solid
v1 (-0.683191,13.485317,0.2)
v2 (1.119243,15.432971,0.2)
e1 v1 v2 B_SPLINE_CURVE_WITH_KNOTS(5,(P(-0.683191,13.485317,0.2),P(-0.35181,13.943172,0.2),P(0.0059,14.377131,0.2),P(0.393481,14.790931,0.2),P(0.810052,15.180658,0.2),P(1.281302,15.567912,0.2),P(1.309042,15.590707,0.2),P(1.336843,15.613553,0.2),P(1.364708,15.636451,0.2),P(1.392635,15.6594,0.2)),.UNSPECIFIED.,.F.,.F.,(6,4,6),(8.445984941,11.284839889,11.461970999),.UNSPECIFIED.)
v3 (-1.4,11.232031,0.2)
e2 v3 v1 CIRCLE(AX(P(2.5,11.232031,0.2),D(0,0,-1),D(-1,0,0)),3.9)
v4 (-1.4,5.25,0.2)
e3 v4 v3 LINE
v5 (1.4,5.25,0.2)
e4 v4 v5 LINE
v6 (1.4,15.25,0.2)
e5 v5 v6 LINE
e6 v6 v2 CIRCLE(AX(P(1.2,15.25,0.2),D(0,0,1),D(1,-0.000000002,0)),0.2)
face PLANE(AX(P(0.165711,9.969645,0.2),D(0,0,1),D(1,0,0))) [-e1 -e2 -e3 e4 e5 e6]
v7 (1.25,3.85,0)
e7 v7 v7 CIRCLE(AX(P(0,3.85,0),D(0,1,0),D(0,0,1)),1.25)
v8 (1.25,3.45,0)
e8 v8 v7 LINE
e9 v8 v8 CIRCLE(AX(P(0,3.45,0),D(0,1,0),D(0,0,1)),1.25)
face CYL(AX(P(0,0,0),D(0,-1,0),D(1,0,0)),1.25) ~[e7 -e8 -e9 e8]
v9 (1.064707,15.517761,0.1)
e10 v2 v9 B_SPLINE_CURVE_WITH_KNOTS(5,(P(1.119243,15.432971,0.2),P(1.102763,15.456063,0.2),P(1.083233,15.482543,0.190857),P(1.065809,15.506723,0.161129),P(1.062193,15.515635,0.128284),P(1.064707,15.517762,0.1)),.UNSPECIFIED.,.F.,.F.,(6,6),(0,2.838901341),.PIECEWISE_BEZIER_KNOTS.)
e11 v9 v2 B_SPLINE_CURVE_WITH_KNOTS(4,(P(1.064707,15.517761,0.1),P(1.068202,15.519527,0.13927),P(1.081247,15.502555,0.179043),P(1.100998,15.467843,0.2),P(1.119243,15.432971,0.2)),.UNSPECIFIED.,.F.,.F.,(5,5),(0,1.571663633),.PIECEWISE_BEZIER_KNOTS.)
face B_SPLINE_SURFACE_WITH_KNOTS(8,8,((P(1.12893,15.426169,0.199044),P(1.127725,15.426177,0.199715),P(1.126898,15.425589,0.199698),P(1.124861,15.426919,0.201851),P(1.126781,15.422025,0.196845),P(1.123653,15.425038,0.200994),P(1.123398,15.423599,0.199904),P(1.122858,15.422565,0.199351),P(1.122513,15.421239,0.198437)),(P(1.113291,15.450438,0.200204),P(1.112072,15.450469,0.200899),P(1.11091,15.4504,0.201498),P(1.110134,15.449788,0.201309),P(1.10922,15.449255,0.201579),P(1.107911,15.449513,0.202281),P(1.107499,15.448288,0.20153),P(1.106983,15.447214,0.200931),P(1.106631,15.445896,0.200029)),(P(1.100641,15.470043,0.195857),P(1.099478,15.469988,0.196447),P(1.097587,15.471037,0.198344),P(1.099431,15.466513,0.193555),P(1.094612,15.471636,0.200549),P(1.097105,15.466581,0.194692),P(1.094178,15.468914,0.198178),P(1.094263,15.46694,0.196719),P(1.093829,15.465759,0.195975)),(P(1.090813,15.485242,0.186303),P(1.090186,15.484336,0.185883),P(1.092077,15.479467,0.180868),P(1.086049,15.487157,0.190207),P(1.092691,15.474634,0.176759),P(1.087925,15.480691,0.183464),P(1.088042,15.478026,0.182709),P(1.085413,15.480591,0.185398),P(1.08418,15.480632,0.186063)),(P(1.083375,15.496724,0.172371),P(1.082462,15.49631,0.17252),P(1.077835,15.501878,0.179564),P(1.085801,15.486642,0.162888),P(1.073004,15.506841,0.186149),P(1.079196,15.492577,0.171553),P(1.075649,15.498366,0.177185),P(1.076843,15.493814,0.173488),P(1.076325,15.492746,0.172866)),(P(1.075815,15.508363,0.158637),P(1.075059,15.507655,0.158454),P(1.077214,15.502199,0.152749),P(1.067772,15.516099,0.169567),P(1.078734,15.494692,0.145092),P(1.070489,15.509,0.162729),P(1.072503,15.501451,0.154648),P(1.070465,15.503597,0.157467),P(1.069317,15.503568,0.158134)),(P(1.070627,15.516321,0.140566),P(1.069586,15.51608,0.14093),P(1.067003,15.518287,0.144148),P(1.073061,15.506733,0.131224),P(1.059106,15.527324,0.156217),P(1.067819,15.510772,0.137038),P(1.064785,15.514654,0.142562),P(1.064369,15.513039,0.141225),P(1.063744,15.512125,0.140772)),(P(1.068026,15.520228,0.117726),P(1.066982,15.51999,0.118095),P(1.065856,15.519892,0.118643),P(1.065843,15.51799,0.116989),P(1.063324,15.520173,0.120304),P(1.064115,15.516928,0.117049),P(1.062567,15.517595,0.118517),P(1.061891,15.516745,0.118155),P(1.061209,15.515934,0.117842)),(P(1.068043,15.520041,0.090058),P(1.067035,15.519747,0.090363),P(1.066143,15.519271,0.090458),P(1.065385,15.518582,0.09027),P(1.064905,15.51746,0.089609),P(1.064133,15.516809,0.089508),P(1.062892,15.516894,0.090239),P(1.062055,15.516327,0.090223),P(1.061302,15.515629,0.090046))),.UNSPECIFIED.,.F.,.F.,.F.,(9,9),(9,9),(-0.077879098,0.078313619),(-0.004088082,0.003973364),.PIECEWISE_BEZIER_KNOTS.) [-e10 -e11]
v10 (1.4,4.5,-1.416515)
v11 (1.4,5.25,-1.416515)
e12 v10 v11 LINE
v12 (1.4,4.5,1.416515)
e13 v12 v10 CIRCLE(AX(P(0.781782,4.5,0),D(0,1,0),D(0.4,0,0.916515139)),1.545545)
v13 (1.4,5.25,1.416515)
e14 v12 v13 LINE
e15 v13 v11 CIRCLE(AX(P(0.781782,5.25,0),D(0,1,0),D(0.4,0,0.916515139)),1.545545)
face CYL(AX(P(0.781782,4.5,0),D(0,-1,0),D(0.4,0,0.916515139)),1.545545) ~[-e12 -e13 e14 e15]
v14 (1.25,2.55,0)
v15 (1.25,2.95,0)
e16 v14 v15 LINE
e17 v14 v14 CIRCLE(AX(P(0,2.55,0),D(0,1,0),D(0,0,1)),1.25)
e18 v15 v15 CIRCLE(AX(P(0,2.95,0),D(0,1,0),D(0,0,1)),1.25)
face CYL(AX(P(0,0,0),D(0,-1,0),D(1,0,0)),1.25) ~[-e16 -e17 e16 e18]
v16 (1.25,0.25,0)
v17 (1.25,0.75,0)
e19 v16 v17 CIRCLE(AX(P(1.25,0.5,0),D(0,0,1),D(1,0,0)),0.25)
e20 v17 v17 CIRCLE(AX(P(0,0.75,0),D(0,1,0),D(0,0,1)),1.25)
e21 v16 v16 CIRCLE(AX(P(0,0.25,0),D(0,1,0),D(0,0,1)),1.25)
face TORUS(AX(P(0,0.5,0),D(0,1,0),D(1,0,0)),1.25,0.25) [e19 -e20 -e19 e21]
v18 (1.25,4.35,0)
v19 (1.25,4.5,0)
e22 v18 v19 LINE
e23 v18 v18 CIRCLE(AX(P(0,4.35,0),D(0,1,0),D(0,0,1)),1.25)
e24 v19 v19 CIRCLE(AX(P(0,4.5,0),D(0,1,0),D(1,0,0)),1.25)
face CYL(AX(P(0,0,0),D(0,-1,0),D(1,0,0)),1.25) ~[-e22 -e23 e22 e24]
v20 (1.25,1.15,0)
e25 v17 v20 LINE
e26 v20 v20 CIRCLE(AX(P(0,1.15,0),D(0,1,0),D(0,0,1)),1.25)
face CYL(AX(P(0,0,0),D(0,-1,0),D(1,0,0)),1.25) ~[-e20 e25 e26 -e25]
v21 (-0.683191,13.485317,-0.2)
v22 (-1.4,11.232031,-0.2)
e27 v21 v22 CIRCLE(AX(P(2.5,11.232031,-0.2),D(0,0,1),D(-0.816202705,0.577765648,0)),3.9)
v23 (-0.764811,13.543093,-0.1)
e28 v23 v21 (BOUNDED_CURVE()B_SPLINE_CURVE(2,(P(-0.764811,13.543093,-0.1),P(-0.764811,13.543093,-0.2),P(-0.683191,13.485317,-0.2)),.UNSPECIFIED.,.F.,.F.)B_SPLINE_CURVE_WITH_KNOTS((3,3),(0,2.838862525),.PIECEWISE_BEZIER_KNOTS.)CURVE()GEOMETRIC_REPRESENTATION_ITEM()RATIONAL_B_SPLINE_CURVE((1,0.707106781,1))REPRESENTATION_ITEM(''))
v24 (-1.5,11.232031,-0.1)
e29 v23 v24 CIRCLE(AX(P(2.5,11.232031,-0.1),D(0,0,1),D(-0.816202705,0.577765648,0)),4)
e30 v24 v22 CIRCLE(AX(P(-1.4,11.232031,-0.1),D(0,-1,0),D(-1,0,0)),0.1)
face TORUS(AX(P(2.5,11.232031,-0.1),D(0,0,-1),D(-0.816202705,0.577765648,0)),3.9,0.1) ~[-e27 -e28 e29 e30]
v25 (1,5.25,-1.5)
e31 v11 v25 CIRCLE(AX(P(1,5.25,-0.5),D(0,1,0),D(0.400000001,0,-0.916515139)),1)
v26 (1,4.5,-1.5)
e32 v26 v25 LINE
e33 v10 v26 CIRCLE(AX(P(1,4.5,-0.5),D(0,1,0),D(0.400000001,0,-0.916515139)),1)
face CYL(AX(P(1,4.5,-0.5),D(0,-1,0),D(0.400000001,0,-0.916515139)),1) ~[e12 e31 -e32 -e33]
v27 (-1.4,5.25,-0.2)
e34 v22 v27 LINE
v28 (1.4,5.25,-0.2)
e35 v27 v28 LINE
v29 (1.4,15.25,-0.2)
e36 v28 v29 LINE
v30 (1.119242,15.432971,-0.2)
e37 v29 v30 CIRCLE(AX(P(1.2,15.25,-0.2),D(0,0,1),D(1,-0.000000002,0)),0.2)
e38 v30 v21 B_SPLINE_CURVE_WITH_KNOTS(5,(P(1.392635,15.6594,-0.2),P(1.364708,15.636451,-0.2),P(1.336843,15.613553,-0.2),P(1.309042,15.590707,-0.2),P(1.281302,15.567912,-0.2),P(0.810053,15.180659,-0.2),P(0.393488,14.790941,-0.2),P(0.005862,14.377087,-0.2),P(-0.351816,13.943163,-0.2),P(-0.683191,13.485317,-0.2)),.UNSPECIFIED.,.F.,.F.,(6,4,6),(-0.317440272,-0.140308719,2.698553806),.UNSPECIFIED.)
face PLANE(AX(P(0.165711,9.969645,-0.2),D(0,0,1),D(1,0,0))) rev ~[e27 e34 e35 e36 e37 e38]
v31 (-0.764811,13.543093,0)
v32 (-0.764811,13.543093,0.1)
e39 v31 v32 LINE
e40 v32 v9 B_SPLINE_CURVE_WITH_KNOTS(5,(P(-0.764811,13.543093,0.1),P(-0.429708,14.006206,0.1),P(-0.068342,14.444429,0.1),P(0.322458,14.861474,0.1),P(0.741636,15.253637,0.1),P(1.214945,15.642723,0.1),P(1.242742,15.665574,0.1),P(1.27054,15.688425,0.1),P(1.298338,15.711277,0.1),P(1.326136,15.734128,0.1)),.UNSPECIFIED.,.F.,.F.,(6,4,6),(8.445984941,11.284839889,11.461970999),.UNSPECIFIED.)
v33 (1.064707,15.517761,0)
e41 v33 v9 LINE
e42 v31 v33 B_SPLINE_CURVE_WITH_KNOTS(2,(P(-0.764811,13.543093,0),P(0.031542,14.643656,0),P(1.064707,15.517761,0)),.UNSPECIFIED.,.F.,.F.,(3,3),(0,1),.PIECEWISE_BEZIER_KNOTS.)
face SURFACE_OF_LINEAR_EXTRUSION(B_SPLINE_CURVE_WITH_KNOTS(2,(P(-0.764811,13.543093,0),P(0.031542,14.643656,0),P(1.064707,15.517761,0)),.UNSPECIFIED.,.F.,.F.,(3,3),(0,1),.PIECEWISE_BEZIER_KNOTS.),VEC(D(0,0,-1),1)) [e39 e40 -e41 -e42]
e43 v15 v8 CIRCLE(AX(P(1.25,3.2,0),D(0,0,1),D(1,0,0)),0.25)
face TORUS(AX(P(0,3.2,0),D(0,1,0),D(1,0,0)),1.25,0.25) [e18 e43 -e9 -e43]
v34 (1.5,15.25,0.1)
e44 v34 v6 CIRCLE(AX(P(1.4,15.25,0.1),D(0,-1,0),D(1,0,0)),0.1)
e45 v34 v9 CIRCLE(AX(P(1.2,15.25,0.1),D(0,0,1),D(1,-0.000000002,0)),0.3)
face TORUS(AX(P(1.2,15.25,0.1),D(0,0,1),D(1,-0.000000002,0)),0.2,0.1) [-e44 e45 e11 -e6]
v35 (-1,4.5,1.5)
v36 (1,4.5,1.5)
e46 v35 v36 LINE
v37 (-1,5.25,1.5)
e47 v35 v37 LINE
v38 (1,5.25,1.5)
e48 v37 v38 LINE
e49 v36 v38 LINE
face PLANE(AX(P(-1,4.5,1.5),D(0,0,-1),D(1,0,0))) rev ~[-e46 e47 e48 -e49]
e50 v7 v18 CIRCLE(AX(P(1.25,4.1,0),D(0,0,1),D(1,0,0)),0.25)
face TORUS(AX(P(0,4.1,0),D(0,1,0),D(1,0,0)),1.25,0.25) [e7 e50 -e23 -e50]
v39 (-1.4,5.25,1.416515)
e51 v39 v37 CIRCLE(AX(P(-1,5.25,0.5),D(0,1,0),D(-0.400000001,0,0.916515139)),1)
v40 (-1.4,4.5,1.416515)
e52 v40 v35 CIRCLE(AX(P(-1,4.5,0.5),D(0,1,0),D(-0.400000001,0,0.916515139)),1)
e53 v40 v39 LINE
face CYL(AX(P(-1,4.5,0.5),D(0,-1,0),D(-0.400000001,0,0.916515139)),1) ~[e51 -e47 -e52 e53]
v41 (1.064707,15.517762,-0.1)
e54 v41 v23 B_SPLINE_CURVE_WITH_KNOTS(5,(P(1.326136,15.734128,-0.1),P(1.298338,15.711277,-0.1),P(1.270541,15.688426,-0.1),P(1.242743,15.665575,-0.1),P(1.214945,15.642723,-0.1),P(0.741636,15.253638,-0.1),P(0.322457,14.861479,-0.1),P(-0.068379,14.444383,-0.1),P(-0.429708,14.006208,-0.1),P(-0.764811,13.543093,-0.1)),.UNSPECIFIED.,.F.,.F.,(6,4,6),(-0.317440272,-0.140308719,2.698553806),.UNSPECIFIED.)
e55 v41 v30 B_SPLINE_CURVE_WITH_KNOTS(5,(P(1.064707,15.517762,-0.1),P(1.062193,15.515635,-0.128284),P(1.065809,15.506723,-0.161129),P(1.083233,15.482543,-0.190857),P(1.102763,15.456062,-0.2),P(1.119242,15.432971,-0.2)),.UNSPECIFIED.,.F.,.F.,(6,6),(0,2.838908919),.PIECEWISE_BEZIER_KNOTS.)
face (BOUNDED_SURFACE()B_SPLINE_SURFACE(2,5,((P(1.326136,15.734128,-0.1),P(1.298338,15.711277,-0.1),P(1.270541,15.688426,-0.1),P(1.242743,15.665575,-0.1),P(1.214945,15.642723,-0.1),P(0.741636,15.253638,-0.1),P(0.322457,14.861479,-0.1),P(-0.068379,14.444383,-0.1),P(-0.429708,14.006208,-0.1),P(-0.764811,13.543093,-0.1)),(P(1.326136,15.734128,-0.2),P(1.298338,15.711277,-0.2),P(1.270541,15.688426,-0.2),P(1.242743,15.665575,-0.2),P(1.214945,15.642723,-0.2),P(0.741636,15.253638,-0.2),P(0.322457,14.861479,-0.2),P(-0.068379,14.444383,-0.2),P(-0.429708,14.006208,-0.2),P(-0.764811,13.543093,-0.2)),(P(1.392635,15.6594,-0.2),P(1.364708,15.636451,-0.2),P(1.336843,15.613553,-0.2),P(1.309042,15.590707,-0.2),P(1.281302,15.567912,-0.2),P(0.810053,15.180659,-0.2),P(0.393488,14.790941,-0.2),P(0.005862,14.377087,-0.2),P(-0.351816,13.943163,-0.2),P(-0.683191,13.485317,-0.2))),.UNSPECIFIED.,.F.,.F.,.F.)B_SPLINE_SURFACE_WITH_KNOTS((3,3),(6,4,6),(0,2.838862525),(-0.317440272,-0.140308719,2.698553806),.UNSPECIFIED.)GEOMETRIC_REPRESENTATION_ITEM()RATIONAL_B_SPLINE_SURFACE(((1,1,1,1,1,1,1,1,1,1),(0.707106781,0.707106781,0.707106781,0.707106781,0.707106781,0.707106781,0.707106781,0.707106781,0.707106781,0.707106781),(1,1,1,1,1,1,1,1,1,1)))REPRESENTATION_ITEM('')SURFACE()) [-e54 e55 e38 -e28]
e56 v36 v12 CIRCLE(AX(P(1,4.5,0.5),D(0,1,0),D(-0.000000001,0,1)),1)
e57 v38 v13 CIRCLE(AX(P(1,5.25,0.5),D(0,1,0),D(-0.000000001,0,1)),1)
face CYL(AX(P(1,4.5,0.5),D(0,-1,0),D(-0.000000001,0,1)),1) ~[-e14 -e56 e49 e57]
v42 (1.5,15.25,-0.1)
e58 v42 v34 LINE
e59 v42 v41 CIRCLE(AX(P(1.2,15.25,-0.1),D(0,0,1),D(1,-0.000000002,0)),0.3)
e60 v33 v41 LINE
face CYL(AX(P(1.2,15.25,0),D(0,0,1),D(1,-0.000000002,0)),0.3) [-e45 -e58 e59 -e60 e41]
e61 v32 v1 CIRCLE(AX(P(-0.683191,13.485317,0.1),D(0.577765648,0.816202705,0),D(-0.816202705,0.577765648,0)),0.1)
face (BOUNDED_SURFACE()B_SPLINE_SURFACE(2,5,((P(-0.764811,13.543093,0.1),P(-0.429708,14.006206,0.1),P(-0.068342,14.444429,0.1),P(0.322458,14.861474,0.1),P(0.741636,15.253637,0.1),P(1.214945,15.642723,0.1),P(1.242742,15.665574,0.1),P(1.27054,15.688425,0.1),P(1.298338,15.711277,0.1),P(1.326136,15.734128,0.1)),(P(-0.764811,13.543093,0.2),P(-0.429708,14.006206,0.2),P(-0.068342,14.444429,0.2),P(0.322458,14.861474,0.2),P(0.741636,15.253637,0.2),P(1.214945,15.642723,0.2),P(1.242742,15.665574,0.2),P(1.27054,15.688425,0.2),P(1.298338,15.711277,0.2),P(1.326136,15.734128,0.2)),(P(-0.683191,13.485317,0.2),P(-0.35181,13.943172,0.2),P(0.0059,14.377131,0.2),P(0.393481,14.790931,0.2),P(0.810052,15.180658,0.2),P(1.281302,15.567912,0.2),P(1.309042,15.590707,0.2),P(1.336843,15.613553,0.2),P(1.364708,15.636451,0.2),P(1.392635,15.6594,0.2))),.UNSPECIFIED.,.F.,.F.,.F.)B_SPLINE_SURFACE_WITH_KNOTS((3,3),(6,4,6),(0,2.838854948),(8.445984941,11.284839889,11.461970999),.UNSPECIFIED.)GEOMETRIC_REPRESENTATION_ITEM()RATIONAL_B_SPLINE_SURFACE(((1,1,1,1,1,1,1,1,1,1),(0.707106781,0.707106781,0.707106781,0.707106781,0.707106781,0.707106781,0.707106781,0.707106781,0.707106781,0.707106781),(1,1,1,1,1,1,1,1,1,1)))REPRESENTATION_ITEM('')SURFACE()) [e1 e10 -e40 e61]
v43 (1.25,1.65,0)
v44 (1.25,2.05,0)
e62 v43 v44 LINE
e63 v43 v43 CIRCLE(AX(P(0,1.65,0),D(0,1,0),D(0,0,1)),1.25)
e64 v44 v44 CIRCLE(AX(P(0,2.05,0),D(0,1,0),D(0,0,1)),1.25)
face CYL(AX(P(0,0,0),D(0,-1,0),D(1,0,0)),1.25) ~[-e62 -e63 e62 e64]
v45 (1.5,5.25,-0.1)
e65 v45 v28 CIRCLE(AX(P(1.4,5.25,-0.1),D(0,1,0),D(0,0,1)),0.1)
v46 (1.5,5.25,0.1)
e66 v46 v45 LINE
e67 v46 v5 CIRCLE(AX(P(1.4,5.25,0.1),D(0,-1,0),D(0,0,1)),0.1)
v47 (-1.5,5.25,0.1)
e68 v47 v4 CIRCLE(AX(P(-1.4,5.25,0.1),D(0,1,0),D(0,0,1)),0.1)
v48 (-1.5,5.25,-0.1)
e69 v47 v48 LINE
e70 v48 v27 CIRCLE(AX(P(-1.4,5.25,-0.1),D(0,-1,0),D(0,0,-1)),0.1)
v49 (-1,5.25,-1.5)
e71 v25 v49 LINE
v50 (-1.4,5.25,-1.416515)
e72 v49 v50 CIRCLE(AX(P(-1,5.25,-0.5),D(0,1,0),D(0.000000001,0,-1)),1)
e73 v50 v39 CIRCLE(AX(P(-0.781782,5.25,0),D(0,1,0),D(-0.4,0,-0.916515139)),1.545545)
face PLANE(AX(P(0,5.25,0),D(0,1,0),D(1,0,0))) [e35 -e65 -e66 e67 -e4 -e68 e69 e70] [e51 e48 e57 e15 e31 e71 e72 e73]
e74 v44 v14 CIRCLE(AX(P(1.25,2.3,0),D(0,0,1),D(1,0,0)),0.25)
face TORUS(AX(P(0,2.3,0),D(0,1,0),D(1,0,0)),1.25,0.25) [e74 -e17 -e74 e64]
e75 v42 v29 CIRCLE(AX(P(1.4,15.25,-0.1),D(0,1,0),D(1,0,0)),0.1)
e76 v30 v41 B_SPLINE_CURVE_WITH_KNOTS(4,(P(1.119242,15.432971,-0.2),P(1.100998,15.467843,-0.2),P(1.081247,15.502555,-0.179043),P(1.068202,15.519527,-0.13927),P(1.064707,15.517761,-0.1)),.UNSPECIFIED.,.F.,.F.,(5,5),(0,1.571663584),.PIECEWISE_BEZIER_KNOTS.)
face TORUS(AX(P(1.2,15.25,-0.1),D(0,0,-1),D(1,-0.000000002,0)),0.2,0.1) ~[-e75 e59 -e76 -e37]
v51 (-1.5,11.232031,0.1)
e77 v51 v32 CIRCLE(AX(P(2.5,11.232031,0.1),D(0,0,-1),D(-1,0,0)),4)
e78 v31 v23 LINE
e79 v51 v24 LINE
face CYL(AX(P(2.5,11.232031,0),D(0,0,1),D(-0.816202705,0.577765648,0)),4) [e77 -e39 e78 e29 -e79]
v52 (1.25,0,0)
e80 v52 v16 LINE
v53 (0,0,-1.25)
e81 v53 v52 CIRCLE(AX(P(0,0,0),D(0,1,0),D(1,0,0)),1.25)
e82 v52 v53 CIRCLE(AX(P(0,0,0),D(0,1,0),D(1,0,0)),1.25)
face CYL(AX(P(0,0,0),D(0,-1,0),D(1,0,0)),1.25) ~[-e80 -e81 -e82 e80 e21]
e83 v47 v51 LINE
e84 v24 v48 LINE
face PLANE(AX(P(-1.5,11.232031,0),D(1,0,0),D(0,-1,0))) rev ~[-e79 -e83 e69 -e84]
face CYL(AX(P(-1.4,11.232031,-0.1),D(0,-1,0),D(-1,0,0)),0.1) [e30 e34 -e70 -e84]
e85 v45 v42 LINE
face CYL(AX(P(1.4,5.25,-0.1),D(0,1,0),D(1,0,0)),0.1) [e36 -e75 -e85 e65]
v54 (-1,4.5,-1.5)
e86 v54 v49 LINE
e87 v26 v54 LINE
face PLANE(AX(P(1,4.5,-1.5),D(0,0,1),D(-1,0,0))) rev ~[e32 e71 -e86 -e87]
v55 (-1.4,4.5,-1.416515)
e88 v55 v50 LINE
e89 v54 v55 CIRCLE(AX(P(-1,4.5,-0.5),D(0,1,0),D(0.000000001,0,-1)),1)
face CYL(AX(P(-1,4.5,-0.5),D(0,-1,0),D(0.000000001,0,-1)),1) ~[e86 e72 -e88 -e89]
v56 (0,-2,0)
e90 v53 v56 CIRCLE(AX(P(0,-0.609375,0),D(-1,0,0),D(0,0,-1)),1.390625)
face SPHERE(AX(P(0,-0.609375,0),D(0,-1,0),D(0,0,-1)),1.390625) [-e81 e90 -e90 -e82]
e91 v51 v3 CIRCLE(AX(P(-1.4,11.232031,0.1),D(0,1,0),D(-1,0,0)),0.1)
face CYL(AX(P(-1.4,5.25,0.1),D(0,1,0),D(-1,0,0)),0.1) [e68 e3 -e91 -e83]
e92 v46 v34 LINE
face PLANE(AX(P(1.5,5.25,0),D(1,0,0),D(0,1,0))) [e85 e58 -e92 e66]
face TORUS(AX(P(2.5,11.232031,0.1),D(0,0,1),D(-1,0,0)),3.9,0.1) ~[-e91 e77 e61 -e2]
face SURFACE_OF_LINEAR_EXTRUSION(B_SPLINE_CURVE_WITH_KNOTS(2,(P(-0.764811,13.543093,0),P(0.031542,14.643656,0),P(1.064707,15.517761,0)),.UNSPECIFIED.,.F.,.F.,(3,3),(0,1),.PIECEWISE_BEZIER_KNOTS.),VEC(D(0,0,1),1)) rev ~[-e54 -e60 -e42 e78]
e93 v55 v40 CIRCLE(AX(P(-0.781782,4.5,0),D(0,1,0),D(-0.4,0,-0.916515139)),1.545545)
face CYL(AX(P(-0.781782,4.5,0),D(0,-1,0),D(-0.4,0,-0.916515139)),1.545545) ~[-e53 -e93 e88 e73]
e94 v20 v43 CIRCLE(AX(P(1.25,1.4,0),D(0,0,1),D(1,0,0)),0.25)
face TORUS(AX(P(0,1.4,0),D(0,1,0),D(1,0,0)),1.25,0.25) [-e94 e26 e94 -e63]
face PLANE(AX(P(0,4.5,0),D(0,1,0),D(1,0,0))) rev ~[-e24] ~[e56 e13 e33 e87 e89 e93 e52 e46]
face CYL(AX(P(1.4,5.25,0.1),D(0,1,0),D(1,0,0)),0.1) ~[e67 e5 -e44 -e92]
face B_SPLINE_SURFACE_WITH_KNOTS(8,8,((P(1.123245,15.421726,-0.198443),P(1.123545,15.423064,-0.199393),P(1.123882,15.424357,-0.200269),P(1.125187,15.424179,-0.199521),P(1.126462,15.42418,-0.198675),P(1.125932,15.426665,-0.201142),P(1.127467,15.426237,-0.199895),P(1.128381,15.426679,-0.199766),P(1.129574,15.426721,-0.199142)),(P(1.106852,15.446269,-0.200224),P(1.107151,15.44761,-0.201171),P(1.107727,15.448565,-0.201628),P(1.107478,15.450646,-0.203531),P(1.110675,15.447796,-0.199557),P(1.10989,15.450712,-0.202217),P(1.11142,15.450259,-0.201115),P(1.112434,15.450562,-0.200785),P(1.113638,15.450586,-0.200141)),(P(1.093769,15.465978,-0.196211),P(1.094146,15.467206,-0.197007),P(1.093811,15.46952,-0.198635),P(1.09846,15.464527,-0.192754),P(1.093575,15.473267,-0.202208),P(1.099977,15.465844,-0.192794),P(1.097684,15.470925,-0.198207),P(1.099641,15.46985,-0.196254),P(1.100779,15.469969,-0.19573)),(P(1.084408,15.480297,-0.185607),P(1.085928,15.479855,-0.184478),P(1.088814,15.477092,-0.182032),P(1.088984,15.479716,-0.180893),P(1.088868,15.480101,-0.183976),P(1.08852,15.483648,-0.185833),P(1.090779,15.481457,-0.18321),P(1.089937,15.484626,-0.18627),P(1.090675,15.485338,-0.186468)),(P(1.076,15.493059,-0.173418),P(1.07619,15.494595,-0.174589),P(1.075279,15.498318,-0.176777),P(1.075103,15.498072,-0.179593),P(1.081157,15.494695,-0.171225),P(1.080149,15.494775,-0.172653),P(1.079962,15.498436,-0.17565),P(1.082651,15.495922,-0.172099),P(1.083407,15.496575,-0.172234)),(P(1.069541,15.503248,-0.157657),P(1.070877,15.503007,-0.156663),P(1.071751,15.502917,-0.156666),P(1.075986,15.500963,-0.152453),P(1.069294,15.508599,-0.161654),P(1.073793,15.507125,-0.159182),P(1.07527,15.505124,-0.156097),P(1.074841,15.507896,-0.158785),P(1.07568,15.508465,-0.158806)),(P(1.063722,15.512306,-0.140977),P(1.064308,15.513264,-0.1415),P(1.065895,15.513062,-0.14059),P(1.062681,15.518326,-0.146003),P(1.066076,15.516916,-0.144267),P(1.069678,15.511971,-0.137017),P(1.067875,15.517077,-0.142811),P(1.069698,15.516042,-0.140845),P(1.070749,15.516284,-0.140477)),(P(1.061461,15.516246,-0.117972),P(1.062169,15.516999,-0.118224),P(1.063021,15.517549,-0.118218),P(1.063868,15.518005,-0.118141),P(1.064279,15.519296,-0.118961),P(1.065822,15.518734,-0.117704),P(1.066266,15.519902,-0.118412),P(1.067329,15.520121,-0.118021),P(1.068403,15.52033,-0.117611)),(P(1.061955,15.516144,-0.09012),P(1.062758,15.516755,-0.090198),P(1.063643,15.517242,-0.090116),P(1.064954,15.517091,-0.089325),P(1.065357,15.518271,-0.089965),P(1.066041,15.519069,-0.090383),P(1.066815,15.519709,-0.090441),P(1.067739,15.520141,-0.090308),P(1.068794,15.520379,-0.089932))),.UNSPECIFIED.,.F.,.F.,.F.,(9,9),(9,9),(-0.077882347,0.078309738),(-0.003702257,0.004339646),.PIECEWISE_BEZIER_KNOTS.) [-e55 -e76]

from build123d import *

# Parameters (mm, degrees)
SKETCH1_R                = 1.25
BOSS_EXTRUDE1_DEPTH      = 4.5
BOSS_EXTRUDE2_DEPTH      = 0.75
DOME1_FACE_RADIUS        = 1.25
DOME1_HEIGHT             = 2
BOSS_EXTRUDE3_DEPTH      = 0.2
BOSS_EXTRUDE3_DEPTH_BACK = 0.2
FILLET3_R                = 0.1
SKETCH5_R                = 0.25
LPATTERN1_COUNT          = 5
LPATTERN1_PITCH          = 0.9


with BuildPart() as part:
    # Sketch1 → Boss-Extrude1 (new body)
    with BuildSketch(Plane(origin=(0, 0, 0), x_dir=(1, 0, 0), z_dir=(0, 1, 0))):
        Circle(SKETCH1_R)
    extrude(amount=BOSS_EXTRUDE1_DEPTH)

    # Sketch2 → Boss-Extrude2 (add)
    with BuildSketch(Plane(origin=(0, 4.5, 0), x_dir=(1, 0, 0), z_dir=(0, 1, 0))):
        with BuildLine():
            Line((1, 1.5), (-1, 1.5))
            ThreePointArc((-1, 1.5), (-1.204309644, 1.478906313), (-1.4, 1.416515139))
            ThreePointArc((-1.4, 1.416515139), (-2.327326835, 0), (-1.4, -1.416515139))
            ThreePointArc((-1.4, -1.416515139), (-1.204309644, -1.478906313), (-1, -1.5))
            Line((-1, -1.5), (0.012678076, -1.5))
            Line((0.012678076, -1.5), (1, -1.5))
            ThreePointArc((1, -1.5), (1.204309644, -1.478906313), (1.4, -1.416515139))
            ThreePointArc((1.4, -1.416515139), (2.327326835, 0), (1.4, 1.416515139))
            ThreePointArc((1.4, 1.416515139), (1.204309644, 1.478906313), (1, 1.5))
        make_face()
    extrude(amount=BOSS_EXTRUDE2_DEPTH)

    # Dome1: a dome of height H over a round flat face of radius A is a cap of a sphere of radius (A * A + H * H) / (2 * H)
    dome1_r = (DOME1_FACE_RADIUS * DOME1_FACE_RADIUS + DOME1_HEIGHT * DOME1_HEIGHT) / (2 * DOME1_HEIGHT)
    dome1_base = Plane((0, 0, 0), z_dir=(0, -1, 0))
    with Locations(dome1_base.offset(DOME1_HEIGHT - dome1_r)):
        dome1_ball = Sphere(dome1_r, mode=Mode.PRIVATE)
    add(split(dome1_ball, bisect_by=dome1_base, keep=Keep.TOP, mode=Mode.PRIVATE))

    # Sketch3 → Boss-Extrude3 (add, two sides)
    with BuildSketch(Plane.XY) as boss_extrude3_sk:
        with BuildLine():
            Line((1.5, 5.25), (1.5, 15.25))
            ThreePointArc((1.5, 15.25), (1.357181775, 15.505526691), (1.064707402, 15.517760925))
            add(Edge.make_bspline(
                [(-0.764810822, 13.5430934), (0.031541874, 14.643656101), (1.064707402, 15.517760925)],
                knots=[0, 0, 0, 1, 1, 1], degree=2))
            ThreePointArc((-0.764810822, 13.5430934), (-1.311774081, 12.444622397), (-1.5, 11.23203081))
            Line((-1.5, 11.23203081), (-1.5, 5.25))
            Line((-1.5, 5.25), (1.5, 5.25))
        make_face()
    extrude(amount=BOSS_EXTRUDE3_DEPTH)
    extrude(boss_extrude3_sk.sketch, amount=-BOSS_EXTRUDE3_DEPTH_BACK)

    # Fillet3
    fillet3_edges = [part.edges().sort_by_distance(p)[0] for p in [
        (-1.5, 8.241015405, -0.2),
        (-1.311774081, 12.444622397, -0.2),
        (0.089869414, 14.58609638, -0.2),
        (1.357181775, 15.505526691, -0.2),
        (1.5, 10.25, -0.2),
        (1.5, 10.25, 0.2),
        (1.357181775, 15.505526691, 0.2),
        (0.089869414, 14.58609638, 0.2),
        (-1.311774081, 12.444622397, 0.2),
        (-1.5, 8.241015405, 0.2),
    ]]
    fillet(fillet3_edges, radius=FILLET3_R)

    # Sweep1: sweep along a path in Sketch4
    with BuildLine(Plane(origin=(0, 0.5, 0), x_dir=(1, 0, 0), z_dir=(0, 1, 0))) as sweep1_path:
        CenterArc((0, 0), 1.25, 0, 360)
    # Sketch5 → Sweep1 (sweep)
    with BuildSketch(Plane.XY):
        with Locations((-1.25, 0.5)):
            Circle(SKETCH5_R)
    sweep1 = sweep(path=sweep1_path.line)

    # LPattern1: Sweep1 ×5
    with Locations(*[(0, i * LPATTERN1_PITCH, 0) for i in range(1, LPATTERN1_COUNT)]):
        add(sweep1)


solid = part.part
